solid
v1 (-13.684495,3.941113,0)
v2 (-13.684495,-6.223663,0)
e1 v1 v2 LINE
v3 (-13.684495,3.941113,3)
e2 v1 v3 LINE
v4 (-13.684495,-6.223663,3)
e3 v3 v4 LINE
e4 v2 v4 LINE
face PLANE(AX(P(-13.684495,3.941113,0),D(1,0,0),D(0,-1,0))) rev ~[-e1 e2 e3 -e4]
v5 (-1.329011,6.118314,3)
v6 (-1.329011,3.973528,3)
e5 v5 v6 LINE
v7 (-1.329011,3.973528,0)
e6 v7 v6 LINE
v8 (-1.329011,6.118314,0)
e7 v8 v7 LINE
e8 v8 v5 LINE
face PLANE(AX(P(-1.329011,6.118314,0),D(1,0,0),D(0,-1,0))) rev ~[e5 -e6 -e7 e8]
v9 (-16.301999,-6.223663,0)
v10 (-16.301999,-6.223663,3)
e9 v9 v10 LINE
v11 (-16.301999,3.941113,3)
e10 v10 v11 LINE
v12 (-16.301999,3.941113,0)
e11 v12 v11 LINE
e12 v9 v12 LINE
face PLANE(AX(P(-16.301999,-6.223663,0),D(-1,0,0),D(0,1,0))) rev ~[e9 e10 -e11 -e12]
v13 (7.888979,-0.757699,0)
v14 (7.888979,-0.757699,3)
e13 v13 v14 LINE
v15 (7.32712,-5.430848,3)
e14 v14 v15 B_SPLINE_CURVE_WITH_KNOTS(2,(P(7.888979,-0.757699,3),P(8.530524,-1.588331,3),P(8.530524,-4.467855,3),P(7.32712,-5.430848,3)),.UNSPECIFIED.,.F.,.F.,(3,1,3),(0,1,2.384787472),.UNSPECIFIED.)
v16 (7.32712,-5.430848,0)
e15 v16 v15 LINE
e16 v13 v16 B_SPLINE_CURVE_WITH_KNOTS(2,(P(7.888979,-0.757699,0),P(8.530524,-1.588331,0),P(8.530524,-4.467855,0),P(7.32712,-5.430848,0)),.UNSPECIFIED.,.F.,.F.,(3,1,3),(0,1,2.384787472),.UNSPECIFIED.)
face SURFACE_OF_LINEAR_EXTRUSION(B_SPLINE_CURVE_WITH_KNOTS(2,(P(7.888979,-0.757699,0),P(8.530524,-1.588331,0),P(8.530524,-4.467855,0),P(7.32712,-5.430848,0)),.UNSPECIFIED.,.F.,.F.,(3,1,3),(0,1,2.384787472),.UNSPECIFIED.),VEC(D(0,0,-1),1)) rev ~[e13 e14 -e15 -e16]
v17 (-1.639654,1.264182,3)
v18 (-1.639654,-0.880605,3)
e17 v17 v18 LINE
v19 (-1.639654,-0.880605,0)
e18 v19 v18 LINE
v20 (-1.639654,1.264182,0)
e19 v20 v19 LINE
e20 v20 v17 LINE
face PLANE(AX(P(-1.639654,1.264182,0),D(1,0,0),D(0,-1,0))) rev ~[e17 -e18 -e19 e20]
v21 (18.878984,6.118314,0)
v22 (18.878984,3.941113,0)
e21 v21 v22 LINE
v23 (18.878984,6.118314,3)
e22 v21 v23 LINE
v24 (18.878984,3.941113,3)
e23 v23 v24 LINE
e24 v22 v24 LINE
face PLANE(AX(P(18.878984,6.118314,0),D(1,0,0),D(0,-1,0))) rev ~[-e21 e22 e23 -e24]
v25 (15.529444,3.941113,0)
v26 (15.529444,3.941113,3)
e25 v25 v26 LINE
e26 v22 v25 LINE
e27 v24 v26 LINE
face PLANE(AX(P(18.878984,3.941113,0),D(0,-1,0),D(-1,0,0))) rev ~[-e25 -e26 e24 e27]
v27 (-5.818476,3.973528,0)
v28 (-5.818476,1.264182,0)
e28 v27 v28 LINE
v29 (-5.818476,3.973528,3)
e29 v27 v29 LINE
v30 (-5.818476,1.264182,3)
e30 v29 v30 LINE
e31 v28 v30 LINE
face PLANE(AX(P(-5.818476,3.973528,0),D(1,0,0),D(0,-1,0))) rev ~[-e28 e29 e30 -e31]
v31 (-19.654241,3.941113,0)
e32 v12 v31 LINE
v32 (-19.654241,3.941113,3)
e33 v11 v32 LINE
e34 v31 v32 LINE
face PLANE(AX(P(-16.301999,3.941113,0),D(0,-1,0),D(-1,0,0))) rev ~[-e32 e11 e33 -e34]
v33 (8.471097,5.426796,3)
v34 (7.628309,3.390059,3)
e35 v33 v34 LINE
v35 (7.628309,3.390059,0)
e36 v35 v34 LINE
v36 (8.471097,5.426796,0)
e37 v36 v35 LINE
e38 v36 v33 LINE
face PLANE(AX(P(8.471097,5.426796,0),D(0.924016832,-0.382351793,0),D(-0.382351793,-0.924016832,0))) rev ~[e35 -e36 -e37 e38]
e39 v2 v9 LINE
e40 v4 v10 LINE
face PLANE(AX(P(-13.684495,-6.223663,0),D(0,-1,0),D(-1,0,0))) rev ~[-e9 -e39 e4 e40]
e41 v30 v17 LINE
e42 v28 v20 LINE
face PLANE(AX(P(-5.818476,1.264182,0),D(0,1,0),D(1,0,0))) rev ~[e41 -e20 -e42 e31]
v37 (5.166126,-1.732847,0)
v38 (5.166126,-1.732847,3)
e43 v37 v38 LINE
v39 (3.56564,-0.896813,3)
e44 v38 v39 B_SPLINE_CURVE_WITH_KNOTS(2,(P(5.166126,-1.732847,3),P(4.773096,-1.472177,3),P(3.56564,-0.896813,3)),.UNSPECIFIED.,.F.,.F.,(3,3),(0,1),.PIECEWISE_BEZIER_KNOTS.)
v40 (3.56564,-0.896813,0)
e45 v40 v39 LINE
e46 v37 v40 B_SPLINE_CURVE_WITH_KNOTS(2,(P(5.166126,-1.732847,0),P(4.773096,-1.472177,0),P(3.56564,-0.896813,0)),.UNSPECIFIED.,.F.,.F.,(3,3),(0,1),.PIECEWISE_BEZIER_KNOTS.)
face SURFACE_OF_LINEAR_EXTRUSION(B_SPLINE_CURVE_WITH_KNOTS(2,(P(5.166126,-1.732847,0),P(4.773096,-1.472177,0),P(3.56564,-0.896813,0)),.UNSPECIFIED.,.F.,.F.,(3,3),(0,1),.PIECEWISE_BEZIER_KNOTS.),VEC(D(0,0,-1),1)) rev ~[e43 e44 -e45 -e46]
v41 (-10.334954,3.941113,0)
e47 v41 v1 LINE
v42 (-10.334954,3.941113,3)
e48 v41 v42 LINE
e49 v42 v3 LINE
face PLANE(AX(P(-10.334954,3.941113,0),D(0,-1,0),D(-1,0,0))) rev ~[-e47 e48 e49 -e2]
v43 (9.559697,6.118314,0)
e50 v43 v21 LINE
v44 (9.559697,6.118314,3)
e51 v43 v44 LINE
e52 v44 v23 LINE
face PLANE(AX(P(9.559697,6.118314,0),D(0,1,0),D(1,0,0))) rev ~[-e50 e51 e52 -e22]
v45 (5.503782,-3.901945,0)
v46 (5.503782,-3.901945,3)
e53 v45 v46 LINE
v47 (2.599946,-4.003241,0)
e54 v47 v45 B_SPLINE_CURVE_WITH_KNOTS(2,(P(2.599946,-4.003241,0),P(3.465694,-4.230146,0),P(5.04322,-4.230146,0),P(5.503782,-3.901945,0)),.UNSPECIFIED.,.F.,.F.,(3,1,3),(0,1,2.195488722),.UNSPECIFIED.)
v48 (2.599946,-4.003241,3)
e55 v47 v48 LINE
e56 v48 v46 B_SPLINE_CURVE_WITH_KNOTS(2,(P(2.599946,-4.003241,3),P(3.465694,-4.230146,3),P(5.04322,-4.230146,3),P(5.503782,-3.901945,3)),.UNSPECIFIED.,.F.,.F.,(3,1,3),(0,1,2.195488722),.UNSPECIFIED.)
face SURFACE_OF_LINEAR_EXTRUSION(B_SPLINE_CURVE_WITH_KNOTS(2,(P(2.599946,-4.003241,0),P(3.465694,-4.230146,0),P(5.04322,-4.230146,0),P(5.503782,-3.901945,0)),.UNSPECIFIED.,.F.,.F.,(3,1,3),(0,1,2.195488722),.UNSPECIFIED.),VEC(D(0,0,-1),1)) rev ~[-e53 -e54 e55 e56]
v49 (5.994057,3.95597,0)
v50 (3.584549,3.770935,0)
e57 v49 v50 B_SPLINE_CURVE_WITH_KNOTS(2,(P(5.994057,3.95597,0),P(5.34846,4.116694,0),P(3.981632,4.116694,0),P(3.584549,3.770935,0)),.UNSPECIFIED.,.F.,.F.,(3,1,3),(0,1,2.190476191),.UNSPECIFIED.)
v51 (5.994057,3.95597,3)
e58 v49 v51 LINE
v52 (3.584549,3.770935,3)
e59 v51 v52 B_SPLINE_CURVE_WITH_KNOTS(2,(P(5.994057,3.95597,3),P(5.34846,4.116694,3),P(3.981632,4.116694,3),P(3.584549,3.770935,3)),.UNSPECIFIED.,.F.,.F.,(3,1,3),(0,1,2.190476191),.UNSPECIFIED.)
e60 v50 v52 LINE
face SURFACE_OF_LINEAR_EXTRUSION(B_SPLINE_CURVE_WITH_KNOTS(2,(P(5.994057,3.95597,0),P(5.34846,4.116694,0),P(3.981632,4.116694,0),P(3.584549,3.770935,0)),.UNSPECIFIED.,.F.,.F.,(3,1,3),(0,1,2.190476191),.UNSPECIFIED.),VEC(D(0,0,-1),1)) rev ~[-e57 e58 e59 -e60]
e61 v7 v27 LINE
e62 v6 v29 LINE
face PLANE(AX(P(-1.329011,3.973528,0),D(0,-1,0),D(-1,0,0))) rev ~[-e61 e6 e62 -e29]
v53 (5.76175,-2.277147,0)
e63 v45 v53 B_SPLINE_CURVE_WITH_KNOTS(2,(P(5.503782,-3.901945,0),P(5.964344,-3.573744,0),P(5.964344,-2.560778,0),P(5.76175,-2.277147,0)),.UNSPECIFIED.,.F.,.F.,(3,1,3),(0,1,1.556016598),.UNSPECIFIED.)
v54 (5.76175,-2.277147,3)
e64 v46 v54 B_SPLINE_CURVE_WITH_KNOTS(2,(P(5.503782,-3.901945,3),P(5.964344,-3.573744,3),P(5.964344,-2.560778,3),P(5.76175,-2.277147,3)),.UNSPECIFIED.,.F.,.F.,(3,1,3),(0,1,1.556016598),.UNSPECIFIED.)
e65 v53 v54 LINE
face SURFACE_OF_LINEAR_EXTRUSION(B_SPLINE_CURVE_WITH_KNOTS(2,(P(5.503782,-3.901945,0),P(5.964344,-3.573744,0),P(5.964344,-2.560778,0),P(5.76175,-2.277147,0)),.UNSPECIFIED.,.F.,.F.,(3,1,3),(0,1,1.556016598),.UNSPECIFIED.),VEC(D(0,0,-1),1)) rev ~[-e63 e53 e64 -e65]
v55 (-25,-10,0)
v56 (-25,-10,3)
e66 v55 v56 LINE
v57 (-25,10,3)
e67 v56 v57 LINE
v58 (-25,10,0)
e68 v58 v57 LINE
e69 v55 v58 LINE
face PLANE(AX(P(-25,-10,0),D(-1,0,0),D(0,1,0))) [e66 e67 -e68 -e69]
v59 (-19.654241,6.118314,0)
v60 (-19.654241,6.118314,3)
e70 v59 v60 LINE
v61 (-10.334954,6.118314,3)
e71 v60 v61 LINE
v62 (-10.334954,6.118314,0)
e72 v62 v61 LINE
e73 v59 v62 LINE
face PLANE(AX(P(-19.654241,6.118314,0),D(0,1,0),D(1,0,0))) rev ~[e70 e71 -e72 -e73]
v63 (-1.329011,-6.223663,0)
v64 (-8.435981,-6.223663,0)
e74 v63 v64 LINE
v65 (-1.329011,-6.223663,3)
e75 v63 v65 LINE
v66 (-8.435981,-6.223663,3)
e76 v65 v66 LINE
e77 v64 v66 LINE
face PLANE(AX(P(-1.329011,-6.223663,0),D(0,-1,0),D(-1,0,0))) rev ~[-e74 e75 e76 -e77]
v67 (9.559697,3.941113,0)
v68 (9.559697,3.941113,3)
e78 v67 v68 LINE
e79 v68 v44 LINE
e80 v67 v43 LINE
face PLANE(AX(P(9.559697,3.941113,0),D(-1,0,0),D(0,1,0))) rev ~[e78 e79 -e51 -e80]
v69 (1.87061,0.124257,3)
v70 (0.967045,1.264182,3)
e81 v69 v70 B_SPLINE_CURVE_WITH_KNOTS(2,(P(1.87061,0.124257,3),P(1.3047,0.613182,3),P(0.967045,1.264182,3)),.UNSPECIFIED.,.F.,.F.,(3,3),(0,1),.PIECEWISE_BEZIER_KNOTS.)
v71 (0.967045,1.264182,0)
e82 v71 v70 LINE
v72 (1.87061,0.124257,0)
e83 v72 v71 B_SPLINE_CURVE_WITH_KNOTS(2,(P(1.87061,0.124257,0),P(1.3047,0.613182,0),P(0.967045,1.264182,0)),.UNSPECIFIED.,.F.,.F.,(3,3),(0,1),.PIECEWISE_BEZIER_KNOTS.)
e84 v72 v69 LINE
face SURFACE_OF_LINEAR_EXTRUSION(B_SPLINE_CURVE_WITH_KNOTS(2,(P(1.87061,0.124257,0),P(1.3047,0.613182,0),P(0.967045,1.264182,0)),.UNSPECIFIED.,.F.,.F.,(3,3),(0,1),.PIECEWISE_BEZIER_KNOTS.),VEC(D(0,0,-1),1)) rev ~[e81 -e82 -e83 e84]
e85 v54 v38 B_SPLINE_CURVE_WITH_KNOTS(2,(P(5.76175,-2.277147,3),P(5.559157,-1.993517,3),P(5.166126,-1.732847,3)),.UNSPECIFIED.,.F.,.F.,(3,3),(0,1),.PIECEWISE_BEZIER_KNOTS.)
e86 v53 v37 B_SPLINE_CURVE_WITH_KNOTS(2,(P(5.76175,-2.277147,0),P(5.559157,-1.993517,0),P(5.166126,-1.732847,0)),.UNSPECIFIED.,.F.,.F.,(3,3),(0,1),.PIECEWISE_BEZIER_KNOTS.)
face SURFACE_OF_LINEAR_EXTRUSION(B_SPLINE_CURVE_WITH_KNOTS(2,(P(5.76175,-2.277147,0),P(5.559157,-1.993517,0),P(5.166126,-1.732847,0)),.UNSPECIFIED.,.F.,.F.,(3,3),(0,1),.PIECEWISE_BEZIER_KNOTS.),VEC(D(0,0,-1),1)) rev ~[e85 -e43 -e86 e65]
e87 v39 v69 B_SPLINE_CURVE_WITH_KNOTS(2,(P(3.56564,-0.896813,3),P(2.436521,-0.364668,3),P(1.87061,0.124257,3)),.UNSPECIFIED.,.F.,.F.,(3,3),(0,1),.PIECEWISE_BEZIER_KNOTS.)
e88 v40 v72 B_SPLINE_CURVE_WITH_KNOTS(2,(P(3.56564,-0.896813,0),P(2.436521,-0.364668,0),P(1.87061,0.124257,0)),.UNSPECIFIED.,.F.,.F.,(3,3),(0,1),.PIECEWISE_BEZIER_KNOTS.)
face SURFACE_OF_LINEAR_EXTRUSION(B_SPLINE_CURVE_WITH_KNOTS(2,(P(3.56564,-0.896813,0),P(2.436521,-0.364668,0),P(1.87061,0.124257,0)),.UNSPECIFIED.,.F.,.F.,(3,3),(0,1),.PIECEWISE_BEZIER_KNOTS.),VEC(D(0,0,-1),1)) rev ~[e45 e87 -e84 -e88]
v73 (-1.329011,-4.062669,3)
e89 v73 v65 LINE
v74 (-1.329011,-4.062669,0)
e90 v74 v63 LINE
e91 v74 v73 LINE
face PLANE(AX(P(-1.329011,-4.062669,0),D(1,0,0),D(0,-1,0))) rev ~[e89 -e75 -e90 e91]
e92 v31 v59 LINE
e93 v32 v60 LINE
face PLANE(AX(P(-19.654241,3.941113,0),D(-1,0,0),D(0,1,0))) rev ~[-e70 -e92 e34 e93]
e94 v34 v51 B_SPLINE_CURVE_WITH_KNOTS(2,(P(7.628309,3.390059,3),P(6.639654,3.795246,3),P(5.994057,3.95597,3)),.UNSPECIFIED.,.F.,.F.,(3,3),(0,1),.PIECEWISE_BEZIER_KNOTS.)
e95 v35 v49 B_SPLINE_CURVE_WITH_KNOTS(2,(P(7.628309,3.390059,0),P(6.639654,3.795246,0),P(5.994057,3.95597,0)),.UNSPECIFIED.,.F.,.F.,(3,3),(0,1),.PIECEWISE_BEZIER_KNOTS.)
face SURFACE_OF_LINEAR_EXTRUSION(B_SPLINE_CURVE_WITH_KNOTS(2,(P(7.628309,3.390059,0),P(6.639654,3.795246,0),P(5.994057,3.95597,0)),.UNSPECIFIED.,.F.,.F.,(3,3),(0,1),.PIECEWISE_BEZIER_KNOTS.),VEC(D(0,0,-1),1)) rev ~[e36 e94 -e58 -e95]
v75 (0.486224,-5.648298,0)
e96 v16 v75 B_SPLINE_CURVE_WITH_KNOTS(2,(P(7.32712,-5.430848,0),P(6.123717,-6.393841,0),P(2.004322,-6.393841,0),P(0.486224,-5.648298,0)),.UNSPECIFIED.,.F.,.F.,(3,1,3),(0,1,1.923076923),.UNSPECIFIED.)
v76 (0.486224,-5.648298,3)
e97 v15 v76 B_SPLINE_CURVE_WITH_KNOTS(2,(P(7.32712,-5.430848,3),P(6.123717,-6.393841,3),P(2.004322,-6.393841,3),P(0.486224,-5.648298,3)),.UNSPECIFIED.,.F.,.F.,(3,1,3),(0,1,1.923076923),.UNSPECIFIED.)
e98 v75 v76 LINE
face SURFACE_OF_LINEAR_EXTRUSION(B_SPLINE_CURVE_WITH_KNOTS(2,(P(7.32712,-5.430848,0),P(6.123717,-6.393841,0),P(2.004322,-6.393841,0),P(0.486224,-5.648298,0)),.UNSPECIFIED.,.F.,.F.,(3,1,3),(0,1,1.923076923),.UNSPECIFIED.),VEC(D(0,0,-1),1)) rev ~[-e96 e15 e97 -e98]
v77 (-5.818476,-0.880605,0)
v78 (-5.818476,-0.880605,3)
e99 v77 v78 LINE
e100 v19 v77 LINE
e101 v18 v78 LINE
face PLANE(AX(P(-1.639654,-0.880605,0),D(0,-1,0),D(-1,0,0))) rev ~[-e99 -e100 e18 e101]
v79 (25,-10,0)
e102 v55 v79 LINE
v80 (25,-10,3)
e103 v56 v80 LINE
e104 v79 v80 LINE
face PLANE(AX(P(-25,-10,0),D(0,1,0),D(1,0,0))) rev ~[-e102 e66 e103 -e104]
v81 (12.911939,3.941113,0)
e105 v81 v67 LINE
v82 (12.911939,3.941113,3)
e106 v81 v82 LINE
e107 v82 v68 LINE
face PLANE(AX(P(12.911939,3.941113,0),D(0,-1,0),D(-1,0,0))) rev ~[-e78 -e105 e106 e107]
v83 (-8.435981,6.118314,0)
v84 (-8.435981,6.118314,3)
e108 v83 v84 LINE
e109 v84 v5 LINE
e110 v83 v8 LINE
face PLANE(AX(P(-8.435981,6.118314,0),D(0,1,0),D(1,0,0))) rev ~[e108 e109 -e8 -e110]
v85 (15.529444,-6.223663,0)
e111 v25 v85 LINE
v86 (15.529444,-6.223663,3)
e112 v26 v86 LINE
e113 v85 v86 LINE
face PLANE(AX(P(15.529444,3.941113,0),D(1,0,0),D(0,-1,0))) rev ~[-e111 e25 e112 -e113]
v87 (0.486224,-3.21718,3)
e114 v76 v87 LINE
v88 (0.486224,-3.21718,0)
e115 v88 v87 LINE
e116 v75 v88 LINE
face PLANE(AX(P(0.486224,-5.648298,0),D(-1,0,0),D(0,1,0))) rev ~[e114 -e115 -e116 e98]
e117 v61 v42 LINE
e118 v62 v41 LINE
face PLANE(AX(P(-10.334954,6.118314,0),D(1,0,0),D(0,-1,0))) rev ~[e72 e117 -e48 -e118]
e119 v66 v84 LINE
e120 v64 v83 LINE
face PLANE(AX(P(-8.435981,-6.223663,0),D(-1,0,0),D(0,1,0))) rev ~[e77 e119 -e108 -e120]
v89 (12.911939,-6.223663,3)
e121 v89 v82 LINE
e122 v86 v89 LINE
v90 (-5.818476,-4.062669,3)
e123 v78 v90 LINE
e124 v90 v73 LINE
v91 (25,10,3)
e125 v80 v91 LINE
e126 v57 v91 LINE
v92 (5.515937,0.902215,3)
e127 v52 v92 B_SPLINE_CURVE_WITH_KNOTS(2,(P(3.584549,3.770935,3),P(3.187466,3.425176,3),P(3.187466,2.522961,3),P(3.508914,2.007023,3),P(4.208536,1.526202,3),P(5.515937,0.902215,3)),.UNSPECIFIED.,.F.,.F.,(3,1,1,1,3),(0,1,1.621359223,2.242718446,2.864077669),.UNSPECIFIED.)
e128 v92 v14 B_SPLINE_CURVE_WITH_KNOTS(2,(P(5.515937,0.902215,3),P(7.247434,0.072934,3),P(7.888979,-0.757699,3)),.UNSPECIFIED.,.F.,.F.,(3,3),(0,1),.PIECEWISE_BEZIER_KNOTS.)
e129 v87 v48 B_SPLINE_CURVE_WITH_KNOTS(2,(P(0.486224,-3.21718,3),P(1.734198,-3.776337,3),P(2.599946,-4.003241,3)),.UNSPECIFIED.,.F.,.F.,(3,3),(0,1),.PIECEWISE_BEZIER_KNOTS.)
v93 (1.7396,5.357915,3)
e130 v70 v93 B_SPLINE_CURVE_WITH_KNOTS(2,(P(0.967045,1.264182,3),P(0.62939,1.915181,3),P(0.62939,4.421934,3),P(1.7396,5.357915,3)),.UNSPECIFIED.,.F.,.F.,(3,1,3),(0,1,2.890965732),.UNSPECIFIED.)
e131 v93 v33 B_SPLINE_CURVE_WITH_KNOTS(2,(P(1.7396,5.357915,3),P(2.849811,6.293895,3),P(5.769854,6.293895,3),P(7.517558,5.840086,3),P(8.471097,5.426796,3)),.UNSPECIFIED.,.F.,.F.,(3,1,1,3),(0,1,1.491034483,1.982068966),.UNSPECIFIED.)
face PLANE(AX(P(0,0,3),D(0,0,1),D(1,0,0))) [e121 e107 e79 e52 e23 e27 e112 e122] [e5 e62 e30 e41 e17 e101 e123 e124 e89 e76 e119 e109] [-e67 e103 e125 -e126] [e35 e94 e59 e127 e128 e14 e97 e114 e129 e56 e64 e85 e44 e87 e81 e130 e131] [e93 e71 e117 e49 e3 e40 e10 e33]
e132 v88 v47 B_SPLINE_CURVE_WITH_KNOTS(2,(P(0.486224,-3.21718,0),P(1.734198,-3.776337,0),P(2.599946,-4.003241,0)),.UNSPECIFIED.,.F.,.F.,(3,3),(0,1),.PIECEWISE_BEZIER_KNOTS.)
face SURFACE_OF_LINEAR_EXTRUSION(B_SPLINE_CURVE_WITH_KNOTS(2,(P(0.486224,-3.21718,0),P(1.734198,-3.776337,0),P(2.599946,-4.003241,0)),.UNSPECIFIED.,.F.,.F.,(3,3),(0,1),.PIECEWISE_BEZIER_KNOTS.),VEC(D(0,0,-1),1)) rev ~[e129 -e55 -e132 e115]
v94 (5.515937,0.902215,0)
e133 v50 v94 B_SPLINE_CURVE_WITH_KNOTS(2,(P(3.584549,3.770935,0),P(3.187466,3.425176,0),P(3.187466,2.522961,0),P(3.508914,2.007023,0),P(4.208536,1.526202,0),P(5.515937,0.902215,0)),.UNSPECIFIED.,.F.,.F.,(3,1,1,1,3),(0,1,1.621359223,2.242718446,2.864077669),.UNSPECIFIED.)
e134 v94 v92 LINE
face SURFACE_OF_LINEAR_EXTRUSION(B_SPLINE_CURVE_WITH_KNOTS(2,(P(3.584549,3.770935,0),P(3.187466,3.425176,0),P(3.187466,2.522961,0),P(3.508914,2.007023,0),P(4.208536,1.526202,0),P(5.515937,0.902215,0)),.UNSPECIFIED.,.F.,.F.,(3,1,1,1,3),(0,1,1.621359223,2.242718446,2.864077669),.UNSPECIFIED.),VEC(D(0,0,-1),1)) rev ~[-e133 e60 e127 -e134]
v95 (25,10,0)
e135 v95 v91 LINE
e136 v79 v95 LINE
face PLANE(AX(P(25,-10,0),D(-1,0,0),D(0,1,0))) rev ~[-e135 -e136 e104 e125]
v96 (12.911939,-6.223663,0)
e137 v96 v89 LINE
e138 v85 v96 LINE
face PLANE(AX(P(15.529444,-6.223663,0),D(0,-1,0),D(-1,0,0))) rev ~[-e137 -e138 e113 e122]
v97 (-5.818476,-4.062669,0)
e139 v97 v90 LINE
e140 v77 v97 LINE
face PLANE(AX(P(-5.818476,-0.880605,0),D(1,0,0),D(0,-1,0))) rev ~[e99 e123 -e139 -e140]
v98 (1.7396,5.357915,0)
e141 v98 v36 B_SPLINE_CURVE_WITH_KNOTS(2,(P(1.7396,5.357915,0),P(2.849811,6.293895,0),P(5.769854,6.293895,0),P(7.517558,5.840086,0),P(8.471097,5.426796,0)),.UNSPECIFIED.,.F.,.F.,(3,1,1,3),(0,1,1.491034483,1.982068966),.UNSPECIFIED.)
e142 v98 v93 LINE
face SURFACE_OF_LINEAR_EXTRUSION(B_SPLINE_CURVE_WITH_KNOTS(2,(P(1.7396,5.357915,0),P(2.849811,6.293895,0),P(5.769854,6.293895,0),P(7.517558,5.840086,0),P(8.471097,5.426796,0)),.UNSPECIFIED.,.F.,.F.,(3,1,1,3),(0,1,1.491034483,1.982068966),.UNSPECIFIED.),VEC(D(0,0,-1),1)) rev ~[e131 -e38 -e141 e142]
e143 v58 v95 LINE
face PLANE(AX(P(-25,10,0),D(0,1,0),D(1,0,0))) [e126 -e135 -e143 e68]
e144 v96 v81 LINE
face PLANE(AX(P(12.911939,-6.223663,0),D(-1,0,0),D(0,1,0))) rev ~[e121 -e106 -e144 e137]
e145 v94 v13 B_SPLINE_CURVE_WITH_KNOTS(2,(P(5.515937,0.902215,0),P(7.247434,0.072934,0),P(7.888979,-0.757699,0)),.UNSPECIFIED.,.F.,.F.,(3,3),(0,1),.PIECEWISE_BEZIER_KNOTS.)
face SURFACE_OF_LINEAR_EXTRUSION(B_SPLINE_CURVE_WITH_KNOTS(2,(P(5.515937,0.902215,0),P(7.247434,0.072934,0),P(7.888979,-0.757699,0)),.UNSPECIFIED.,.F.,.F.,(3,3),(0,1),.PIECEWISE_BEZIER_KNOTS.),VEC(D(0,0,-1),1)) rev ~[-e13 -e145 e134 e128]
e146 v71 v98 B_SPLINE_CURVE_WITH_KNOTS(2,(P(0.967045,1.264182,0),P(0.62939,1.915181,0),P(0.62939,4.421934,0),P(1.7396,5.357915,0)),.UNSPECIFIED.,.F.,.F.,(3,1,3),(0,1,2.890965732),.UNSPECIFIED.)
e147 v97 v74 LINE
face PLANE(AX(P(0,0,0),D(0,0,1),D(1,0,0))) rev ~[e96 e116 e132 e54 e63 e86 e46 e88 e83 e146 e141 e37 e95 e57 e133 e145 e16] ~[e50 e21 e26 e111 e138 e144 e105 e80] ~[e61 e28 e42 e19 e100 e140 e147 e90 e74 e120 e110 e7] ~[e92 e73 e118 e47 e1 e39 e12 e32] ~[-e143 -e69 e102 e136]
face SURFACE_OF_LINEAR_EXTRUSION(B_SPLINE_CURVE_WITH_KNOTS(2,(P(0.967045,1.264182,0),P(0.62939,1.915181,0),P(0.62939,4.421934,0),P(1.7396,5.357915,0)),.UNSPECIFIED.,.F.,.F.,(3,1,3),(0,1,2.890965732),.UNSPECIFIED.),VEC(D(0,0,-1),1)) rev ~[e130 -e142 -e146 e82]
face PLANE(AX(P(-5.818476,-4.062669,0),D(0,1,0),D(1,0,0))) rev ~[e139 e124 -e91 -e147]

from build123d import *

# Parameters (mm, degrees)
F0_W     = 50
F0_H     = 20
F1_DEPTH = 3


with BuildPart() as f1:
    # F0 (on Top) → F1 (new body)
    with BuildSketch(Plane.XY):
        Rectangle(F0_W, F0_H)
        Polygon((-13.6844948676, 3.9411129119), (-13.6844948676, -6.2236628849), (-16.3019989195, -6.2236628849), (-16.3019989195, 3.9411129119), (-19.6542409508, 3.9411129119), (-19.6542409508, 6.1183144246), (-10.3349540789, 6.1183144246), (-10.3349540789, 3.9411129119), align=None, mode=Mode.SUBTRACT)
        Polygon((-1.3290113452, -4.0626688277), (-1.3290113452, -6.2236628849), (-8.4359805511, -6.2236628849), (-8.4359805511, 6.1183144246), (-1.3290113452, 6.1183144246), (-1.3290113452, 3.9735278228), (-5.8184764992, 3.9735278228), (-5.8184764992, 1.2641815235), (-1.639654241, 1.2641815235), (-1.639654241, -0.8806050783), (-5.8184764992, -0.8806050783), (-5.8184764992, -4.0626688277), align=None, mode=Mode.SUBTRACT)
        with BuildLine():
            add(Edge.make_bspline(
                [(7.8889789303, -0.7576985413), (8.5305240411, -1.5883306321), (8.5305240411, -2.7957860616)],
                knots=[0, 0, 0, 1, 1, 1], degree=2))
            add(Edge.make_bspline(
                [(8.5305240411, -2.7957860616), (8.5305240411, -4.4678552134), (7.3271204754, -5.4308481902)],
                knots=[0, 0, 0, 1, 1, 1], degree=2))
            add(Edge.make_bspline(
                [(7.3271204754, -5.4308481902), (6.1237169098, -6.3938411669), (3.9816315505, -6.3938411669)],
                knots=[0, 0, 0, 1, 1, 1], degree=2))
            add(Edge.make_bspline(
                [(3.9816315505, -6.3938411669), (2.0043219881, -6.3938411669), (0.4862236629, -5.6482982172)],
                knots=[0, 0, 0, 1, 1, 1], degree=2))
            Line((0.4862236629, -5.6482982172), (0.4862236629, -3.2171799028))
            add(Edge.make_bspline(
                [(0.4862236629, -3.2171799028), (1.734197731, -3.7763371151), (2.5999459751, -4.0032414911)],
                knots=[0, 0, 0, 1, 1, 1], degree=2))
            add(Edge.make_bspline(
                [(2.5999459751, -4.0032414911), (3.4656942193, -4.2301458671), (4.1842247434, -4.2301458671)],
                knots=[0, 0, 0, 1, 1, 1], degree=2))
            add(Edge.make_bspline(
                [(4.1842247434, -4.2301458671), (5.0432198811, -4.2301458671), (5.5037817396, -3.9019448947)],
                knots=[0, 0, 0, 1, 1, 1], degree=2))
            add(Edge.make_bspline(
                [(5.5037817396, -3.9019448947), (5.9643435981, -3.5737439222), (5.9643435981, -2.9227444625)],
                knots=[0, 0, 0, 1, 1, 1], degree=2))
            add(Edge.make_bspline(
                [(5.9643435981, -2.9227444625), (5.9643435981, -2.5607779579), (5.7617504052, -2.2771474878)],
                knots=[0, 0, 0, 1, 1, 1], degree=2))
            add(Edge.make_bspline(
                [(5.7617504052, -2.2771474878), (5.5591572123, -1.9935170178), (5.1661264182, -1.7328471097)],
                knots=[0, 0, 0, 1, 1, 1], degree=2))
            add(Edge.make_bspline(
                [(5.1661264182, -1.7328471097), (4.773095624, -1.4721772015), (3.5656401945, -0.8968125338)],
                knots=[0, 0, 0, 1, 1, 1], degree=2))
            add(Edge.make_bspline(
                [(3.5656401945, -0.8968125338), (2.4365207996, -0.3646677472), (1.8706104808, 0.1242571583)],
                knots=[0, 0, 0, 1, 1, 1], degree=2))
            add(Edge.make_bspline(
                [(1.8706104808, 0.1242571583), (1.3047001621, 0.6131820637), (0.9670448406, 1.2641815235)],
                knots=[0, 0, 0, 1, 1, 1], degree=2))
            add(Edge.make_bspline(
                [(0.9670448406, 1.2641815235), (0.6293895192, 1.9151809833), (0.6293895192, 2.7822798487)],
                knots=[0, 0, 0, 1, 1, 1], degree=2))
            add(Edge.make_bspline(
                [(0.6293895192, 2.7822798487), (0.6293895192, 4.4219340897), (1.7396002161, 5.3579146407)],
                knots=[0, 0, 0, 1, 1, 1], degree=2))
            add(Edge.make_bspline(
                [(1.7396002161, 5.3579146407), (2.849810913, 6.2938951918), (4.8082117774, 6.2938951918)],
                knots=[0, 0, 0, 1, 1, 1], degree=2))
            add(Edge.make_bspline(
                [(4.8082117774, 6.2938951918), (5.7698541329, 6.2938951918), (6.6437061048, 6.0669908158)],
                knots=[0, 0, 0, 1, 1, 1], degree=2))
            add(Edge.make_bspline(
                [(6.6437061048, 6.0669908158), (7.5175580767, 5.8400864398), (8.4710967045, 5.4267963263)],
                knots=[0, 0, 0, 1, 1, 1], degree=2))
            Line((8.4710967045, 5.4267963263), (7.6283090222, 3.3900594273))
            add(Edge.make_bspline(
                [(7.6283090222, 3.3900594273), (6.639654241, 3.7952458131), (5.9940572663, 3.9559697461)],
                knots=[0, 0, 0, 1, 1, 1], degree=2))
            add(Edge.make_bspline(
                [(5.9940572663, 3.9559697461), (5.3484602917, 4.1166936791), (4.7244732577, 4.1166936791)],
                knots=[0, 0, 0, 1, 1, 1], degree=2))
            add(Edge.make_bspline(
                [(4.7244732577, 4.1166936791), (3.9816315505, 4.1166936791), (3.5845488925, 3.7709346299)],
                knots=[0, 0, 0, 1, 1, 1], degree=2))
            add(Edge.make_bspline(
                [(3.5845488925, 3.7709346299), (3.1874662345, 3.4251755808), (3.1874662345, 2.868719611)],
                knots=[0, 0, 0, 1, 1, 1], degree=2))
            add(Edge.make_bspline(
                [(3.1874662345, 2.868719611), (3.1874662345, 2.5229605619), (3.3481901675, 2.2649918963)],
                knots=[0, 0, 0, 1, 1, 1], degree=2))
            add(Edge.make_bspline(
                [(3.3481901675, 2.2649918963), (3.5089141005, 2.0070232307), (3.8587250135, 1.7666126418)],
                knots=[0, 0, 0, 1, 1, 1], degree=2))
            add(Edge.make_bspline(
                [(3.8587250135, 1.7666126418), (4.2085359265, 1.5262020529), (5.5159373312, 0.9022150189)],
                knots=[0, 0, 0, 1, 1, 1], degree=2))
            add(Edge.make_bspline(
                [(5.5159373312, 0.9022150189), (7.2474338196, 0.0729335494), (7.8889789303, -0.7576985413)],
                knots=[0, 0, 0, 1, 1, 1], degree=2))
        make_face(mode=Mode.SUBTRACT)
        Polygon((15.529443544, 3.9411129119), (15.529443544, -6.2236628849), (12.9119394922, -6.2236628849), (12.9119394922, 3.9411129119), (9.5596974608, 3.9411129119), (9.5596974608, 6.1183144246), (18.8789843328, 6.1183144246), (18.8789843328, 3.9411129119), align=None, mode=Mode.SUBTRACT)
    extrude(amount=F1_DEPTH)


solid = f1.part
